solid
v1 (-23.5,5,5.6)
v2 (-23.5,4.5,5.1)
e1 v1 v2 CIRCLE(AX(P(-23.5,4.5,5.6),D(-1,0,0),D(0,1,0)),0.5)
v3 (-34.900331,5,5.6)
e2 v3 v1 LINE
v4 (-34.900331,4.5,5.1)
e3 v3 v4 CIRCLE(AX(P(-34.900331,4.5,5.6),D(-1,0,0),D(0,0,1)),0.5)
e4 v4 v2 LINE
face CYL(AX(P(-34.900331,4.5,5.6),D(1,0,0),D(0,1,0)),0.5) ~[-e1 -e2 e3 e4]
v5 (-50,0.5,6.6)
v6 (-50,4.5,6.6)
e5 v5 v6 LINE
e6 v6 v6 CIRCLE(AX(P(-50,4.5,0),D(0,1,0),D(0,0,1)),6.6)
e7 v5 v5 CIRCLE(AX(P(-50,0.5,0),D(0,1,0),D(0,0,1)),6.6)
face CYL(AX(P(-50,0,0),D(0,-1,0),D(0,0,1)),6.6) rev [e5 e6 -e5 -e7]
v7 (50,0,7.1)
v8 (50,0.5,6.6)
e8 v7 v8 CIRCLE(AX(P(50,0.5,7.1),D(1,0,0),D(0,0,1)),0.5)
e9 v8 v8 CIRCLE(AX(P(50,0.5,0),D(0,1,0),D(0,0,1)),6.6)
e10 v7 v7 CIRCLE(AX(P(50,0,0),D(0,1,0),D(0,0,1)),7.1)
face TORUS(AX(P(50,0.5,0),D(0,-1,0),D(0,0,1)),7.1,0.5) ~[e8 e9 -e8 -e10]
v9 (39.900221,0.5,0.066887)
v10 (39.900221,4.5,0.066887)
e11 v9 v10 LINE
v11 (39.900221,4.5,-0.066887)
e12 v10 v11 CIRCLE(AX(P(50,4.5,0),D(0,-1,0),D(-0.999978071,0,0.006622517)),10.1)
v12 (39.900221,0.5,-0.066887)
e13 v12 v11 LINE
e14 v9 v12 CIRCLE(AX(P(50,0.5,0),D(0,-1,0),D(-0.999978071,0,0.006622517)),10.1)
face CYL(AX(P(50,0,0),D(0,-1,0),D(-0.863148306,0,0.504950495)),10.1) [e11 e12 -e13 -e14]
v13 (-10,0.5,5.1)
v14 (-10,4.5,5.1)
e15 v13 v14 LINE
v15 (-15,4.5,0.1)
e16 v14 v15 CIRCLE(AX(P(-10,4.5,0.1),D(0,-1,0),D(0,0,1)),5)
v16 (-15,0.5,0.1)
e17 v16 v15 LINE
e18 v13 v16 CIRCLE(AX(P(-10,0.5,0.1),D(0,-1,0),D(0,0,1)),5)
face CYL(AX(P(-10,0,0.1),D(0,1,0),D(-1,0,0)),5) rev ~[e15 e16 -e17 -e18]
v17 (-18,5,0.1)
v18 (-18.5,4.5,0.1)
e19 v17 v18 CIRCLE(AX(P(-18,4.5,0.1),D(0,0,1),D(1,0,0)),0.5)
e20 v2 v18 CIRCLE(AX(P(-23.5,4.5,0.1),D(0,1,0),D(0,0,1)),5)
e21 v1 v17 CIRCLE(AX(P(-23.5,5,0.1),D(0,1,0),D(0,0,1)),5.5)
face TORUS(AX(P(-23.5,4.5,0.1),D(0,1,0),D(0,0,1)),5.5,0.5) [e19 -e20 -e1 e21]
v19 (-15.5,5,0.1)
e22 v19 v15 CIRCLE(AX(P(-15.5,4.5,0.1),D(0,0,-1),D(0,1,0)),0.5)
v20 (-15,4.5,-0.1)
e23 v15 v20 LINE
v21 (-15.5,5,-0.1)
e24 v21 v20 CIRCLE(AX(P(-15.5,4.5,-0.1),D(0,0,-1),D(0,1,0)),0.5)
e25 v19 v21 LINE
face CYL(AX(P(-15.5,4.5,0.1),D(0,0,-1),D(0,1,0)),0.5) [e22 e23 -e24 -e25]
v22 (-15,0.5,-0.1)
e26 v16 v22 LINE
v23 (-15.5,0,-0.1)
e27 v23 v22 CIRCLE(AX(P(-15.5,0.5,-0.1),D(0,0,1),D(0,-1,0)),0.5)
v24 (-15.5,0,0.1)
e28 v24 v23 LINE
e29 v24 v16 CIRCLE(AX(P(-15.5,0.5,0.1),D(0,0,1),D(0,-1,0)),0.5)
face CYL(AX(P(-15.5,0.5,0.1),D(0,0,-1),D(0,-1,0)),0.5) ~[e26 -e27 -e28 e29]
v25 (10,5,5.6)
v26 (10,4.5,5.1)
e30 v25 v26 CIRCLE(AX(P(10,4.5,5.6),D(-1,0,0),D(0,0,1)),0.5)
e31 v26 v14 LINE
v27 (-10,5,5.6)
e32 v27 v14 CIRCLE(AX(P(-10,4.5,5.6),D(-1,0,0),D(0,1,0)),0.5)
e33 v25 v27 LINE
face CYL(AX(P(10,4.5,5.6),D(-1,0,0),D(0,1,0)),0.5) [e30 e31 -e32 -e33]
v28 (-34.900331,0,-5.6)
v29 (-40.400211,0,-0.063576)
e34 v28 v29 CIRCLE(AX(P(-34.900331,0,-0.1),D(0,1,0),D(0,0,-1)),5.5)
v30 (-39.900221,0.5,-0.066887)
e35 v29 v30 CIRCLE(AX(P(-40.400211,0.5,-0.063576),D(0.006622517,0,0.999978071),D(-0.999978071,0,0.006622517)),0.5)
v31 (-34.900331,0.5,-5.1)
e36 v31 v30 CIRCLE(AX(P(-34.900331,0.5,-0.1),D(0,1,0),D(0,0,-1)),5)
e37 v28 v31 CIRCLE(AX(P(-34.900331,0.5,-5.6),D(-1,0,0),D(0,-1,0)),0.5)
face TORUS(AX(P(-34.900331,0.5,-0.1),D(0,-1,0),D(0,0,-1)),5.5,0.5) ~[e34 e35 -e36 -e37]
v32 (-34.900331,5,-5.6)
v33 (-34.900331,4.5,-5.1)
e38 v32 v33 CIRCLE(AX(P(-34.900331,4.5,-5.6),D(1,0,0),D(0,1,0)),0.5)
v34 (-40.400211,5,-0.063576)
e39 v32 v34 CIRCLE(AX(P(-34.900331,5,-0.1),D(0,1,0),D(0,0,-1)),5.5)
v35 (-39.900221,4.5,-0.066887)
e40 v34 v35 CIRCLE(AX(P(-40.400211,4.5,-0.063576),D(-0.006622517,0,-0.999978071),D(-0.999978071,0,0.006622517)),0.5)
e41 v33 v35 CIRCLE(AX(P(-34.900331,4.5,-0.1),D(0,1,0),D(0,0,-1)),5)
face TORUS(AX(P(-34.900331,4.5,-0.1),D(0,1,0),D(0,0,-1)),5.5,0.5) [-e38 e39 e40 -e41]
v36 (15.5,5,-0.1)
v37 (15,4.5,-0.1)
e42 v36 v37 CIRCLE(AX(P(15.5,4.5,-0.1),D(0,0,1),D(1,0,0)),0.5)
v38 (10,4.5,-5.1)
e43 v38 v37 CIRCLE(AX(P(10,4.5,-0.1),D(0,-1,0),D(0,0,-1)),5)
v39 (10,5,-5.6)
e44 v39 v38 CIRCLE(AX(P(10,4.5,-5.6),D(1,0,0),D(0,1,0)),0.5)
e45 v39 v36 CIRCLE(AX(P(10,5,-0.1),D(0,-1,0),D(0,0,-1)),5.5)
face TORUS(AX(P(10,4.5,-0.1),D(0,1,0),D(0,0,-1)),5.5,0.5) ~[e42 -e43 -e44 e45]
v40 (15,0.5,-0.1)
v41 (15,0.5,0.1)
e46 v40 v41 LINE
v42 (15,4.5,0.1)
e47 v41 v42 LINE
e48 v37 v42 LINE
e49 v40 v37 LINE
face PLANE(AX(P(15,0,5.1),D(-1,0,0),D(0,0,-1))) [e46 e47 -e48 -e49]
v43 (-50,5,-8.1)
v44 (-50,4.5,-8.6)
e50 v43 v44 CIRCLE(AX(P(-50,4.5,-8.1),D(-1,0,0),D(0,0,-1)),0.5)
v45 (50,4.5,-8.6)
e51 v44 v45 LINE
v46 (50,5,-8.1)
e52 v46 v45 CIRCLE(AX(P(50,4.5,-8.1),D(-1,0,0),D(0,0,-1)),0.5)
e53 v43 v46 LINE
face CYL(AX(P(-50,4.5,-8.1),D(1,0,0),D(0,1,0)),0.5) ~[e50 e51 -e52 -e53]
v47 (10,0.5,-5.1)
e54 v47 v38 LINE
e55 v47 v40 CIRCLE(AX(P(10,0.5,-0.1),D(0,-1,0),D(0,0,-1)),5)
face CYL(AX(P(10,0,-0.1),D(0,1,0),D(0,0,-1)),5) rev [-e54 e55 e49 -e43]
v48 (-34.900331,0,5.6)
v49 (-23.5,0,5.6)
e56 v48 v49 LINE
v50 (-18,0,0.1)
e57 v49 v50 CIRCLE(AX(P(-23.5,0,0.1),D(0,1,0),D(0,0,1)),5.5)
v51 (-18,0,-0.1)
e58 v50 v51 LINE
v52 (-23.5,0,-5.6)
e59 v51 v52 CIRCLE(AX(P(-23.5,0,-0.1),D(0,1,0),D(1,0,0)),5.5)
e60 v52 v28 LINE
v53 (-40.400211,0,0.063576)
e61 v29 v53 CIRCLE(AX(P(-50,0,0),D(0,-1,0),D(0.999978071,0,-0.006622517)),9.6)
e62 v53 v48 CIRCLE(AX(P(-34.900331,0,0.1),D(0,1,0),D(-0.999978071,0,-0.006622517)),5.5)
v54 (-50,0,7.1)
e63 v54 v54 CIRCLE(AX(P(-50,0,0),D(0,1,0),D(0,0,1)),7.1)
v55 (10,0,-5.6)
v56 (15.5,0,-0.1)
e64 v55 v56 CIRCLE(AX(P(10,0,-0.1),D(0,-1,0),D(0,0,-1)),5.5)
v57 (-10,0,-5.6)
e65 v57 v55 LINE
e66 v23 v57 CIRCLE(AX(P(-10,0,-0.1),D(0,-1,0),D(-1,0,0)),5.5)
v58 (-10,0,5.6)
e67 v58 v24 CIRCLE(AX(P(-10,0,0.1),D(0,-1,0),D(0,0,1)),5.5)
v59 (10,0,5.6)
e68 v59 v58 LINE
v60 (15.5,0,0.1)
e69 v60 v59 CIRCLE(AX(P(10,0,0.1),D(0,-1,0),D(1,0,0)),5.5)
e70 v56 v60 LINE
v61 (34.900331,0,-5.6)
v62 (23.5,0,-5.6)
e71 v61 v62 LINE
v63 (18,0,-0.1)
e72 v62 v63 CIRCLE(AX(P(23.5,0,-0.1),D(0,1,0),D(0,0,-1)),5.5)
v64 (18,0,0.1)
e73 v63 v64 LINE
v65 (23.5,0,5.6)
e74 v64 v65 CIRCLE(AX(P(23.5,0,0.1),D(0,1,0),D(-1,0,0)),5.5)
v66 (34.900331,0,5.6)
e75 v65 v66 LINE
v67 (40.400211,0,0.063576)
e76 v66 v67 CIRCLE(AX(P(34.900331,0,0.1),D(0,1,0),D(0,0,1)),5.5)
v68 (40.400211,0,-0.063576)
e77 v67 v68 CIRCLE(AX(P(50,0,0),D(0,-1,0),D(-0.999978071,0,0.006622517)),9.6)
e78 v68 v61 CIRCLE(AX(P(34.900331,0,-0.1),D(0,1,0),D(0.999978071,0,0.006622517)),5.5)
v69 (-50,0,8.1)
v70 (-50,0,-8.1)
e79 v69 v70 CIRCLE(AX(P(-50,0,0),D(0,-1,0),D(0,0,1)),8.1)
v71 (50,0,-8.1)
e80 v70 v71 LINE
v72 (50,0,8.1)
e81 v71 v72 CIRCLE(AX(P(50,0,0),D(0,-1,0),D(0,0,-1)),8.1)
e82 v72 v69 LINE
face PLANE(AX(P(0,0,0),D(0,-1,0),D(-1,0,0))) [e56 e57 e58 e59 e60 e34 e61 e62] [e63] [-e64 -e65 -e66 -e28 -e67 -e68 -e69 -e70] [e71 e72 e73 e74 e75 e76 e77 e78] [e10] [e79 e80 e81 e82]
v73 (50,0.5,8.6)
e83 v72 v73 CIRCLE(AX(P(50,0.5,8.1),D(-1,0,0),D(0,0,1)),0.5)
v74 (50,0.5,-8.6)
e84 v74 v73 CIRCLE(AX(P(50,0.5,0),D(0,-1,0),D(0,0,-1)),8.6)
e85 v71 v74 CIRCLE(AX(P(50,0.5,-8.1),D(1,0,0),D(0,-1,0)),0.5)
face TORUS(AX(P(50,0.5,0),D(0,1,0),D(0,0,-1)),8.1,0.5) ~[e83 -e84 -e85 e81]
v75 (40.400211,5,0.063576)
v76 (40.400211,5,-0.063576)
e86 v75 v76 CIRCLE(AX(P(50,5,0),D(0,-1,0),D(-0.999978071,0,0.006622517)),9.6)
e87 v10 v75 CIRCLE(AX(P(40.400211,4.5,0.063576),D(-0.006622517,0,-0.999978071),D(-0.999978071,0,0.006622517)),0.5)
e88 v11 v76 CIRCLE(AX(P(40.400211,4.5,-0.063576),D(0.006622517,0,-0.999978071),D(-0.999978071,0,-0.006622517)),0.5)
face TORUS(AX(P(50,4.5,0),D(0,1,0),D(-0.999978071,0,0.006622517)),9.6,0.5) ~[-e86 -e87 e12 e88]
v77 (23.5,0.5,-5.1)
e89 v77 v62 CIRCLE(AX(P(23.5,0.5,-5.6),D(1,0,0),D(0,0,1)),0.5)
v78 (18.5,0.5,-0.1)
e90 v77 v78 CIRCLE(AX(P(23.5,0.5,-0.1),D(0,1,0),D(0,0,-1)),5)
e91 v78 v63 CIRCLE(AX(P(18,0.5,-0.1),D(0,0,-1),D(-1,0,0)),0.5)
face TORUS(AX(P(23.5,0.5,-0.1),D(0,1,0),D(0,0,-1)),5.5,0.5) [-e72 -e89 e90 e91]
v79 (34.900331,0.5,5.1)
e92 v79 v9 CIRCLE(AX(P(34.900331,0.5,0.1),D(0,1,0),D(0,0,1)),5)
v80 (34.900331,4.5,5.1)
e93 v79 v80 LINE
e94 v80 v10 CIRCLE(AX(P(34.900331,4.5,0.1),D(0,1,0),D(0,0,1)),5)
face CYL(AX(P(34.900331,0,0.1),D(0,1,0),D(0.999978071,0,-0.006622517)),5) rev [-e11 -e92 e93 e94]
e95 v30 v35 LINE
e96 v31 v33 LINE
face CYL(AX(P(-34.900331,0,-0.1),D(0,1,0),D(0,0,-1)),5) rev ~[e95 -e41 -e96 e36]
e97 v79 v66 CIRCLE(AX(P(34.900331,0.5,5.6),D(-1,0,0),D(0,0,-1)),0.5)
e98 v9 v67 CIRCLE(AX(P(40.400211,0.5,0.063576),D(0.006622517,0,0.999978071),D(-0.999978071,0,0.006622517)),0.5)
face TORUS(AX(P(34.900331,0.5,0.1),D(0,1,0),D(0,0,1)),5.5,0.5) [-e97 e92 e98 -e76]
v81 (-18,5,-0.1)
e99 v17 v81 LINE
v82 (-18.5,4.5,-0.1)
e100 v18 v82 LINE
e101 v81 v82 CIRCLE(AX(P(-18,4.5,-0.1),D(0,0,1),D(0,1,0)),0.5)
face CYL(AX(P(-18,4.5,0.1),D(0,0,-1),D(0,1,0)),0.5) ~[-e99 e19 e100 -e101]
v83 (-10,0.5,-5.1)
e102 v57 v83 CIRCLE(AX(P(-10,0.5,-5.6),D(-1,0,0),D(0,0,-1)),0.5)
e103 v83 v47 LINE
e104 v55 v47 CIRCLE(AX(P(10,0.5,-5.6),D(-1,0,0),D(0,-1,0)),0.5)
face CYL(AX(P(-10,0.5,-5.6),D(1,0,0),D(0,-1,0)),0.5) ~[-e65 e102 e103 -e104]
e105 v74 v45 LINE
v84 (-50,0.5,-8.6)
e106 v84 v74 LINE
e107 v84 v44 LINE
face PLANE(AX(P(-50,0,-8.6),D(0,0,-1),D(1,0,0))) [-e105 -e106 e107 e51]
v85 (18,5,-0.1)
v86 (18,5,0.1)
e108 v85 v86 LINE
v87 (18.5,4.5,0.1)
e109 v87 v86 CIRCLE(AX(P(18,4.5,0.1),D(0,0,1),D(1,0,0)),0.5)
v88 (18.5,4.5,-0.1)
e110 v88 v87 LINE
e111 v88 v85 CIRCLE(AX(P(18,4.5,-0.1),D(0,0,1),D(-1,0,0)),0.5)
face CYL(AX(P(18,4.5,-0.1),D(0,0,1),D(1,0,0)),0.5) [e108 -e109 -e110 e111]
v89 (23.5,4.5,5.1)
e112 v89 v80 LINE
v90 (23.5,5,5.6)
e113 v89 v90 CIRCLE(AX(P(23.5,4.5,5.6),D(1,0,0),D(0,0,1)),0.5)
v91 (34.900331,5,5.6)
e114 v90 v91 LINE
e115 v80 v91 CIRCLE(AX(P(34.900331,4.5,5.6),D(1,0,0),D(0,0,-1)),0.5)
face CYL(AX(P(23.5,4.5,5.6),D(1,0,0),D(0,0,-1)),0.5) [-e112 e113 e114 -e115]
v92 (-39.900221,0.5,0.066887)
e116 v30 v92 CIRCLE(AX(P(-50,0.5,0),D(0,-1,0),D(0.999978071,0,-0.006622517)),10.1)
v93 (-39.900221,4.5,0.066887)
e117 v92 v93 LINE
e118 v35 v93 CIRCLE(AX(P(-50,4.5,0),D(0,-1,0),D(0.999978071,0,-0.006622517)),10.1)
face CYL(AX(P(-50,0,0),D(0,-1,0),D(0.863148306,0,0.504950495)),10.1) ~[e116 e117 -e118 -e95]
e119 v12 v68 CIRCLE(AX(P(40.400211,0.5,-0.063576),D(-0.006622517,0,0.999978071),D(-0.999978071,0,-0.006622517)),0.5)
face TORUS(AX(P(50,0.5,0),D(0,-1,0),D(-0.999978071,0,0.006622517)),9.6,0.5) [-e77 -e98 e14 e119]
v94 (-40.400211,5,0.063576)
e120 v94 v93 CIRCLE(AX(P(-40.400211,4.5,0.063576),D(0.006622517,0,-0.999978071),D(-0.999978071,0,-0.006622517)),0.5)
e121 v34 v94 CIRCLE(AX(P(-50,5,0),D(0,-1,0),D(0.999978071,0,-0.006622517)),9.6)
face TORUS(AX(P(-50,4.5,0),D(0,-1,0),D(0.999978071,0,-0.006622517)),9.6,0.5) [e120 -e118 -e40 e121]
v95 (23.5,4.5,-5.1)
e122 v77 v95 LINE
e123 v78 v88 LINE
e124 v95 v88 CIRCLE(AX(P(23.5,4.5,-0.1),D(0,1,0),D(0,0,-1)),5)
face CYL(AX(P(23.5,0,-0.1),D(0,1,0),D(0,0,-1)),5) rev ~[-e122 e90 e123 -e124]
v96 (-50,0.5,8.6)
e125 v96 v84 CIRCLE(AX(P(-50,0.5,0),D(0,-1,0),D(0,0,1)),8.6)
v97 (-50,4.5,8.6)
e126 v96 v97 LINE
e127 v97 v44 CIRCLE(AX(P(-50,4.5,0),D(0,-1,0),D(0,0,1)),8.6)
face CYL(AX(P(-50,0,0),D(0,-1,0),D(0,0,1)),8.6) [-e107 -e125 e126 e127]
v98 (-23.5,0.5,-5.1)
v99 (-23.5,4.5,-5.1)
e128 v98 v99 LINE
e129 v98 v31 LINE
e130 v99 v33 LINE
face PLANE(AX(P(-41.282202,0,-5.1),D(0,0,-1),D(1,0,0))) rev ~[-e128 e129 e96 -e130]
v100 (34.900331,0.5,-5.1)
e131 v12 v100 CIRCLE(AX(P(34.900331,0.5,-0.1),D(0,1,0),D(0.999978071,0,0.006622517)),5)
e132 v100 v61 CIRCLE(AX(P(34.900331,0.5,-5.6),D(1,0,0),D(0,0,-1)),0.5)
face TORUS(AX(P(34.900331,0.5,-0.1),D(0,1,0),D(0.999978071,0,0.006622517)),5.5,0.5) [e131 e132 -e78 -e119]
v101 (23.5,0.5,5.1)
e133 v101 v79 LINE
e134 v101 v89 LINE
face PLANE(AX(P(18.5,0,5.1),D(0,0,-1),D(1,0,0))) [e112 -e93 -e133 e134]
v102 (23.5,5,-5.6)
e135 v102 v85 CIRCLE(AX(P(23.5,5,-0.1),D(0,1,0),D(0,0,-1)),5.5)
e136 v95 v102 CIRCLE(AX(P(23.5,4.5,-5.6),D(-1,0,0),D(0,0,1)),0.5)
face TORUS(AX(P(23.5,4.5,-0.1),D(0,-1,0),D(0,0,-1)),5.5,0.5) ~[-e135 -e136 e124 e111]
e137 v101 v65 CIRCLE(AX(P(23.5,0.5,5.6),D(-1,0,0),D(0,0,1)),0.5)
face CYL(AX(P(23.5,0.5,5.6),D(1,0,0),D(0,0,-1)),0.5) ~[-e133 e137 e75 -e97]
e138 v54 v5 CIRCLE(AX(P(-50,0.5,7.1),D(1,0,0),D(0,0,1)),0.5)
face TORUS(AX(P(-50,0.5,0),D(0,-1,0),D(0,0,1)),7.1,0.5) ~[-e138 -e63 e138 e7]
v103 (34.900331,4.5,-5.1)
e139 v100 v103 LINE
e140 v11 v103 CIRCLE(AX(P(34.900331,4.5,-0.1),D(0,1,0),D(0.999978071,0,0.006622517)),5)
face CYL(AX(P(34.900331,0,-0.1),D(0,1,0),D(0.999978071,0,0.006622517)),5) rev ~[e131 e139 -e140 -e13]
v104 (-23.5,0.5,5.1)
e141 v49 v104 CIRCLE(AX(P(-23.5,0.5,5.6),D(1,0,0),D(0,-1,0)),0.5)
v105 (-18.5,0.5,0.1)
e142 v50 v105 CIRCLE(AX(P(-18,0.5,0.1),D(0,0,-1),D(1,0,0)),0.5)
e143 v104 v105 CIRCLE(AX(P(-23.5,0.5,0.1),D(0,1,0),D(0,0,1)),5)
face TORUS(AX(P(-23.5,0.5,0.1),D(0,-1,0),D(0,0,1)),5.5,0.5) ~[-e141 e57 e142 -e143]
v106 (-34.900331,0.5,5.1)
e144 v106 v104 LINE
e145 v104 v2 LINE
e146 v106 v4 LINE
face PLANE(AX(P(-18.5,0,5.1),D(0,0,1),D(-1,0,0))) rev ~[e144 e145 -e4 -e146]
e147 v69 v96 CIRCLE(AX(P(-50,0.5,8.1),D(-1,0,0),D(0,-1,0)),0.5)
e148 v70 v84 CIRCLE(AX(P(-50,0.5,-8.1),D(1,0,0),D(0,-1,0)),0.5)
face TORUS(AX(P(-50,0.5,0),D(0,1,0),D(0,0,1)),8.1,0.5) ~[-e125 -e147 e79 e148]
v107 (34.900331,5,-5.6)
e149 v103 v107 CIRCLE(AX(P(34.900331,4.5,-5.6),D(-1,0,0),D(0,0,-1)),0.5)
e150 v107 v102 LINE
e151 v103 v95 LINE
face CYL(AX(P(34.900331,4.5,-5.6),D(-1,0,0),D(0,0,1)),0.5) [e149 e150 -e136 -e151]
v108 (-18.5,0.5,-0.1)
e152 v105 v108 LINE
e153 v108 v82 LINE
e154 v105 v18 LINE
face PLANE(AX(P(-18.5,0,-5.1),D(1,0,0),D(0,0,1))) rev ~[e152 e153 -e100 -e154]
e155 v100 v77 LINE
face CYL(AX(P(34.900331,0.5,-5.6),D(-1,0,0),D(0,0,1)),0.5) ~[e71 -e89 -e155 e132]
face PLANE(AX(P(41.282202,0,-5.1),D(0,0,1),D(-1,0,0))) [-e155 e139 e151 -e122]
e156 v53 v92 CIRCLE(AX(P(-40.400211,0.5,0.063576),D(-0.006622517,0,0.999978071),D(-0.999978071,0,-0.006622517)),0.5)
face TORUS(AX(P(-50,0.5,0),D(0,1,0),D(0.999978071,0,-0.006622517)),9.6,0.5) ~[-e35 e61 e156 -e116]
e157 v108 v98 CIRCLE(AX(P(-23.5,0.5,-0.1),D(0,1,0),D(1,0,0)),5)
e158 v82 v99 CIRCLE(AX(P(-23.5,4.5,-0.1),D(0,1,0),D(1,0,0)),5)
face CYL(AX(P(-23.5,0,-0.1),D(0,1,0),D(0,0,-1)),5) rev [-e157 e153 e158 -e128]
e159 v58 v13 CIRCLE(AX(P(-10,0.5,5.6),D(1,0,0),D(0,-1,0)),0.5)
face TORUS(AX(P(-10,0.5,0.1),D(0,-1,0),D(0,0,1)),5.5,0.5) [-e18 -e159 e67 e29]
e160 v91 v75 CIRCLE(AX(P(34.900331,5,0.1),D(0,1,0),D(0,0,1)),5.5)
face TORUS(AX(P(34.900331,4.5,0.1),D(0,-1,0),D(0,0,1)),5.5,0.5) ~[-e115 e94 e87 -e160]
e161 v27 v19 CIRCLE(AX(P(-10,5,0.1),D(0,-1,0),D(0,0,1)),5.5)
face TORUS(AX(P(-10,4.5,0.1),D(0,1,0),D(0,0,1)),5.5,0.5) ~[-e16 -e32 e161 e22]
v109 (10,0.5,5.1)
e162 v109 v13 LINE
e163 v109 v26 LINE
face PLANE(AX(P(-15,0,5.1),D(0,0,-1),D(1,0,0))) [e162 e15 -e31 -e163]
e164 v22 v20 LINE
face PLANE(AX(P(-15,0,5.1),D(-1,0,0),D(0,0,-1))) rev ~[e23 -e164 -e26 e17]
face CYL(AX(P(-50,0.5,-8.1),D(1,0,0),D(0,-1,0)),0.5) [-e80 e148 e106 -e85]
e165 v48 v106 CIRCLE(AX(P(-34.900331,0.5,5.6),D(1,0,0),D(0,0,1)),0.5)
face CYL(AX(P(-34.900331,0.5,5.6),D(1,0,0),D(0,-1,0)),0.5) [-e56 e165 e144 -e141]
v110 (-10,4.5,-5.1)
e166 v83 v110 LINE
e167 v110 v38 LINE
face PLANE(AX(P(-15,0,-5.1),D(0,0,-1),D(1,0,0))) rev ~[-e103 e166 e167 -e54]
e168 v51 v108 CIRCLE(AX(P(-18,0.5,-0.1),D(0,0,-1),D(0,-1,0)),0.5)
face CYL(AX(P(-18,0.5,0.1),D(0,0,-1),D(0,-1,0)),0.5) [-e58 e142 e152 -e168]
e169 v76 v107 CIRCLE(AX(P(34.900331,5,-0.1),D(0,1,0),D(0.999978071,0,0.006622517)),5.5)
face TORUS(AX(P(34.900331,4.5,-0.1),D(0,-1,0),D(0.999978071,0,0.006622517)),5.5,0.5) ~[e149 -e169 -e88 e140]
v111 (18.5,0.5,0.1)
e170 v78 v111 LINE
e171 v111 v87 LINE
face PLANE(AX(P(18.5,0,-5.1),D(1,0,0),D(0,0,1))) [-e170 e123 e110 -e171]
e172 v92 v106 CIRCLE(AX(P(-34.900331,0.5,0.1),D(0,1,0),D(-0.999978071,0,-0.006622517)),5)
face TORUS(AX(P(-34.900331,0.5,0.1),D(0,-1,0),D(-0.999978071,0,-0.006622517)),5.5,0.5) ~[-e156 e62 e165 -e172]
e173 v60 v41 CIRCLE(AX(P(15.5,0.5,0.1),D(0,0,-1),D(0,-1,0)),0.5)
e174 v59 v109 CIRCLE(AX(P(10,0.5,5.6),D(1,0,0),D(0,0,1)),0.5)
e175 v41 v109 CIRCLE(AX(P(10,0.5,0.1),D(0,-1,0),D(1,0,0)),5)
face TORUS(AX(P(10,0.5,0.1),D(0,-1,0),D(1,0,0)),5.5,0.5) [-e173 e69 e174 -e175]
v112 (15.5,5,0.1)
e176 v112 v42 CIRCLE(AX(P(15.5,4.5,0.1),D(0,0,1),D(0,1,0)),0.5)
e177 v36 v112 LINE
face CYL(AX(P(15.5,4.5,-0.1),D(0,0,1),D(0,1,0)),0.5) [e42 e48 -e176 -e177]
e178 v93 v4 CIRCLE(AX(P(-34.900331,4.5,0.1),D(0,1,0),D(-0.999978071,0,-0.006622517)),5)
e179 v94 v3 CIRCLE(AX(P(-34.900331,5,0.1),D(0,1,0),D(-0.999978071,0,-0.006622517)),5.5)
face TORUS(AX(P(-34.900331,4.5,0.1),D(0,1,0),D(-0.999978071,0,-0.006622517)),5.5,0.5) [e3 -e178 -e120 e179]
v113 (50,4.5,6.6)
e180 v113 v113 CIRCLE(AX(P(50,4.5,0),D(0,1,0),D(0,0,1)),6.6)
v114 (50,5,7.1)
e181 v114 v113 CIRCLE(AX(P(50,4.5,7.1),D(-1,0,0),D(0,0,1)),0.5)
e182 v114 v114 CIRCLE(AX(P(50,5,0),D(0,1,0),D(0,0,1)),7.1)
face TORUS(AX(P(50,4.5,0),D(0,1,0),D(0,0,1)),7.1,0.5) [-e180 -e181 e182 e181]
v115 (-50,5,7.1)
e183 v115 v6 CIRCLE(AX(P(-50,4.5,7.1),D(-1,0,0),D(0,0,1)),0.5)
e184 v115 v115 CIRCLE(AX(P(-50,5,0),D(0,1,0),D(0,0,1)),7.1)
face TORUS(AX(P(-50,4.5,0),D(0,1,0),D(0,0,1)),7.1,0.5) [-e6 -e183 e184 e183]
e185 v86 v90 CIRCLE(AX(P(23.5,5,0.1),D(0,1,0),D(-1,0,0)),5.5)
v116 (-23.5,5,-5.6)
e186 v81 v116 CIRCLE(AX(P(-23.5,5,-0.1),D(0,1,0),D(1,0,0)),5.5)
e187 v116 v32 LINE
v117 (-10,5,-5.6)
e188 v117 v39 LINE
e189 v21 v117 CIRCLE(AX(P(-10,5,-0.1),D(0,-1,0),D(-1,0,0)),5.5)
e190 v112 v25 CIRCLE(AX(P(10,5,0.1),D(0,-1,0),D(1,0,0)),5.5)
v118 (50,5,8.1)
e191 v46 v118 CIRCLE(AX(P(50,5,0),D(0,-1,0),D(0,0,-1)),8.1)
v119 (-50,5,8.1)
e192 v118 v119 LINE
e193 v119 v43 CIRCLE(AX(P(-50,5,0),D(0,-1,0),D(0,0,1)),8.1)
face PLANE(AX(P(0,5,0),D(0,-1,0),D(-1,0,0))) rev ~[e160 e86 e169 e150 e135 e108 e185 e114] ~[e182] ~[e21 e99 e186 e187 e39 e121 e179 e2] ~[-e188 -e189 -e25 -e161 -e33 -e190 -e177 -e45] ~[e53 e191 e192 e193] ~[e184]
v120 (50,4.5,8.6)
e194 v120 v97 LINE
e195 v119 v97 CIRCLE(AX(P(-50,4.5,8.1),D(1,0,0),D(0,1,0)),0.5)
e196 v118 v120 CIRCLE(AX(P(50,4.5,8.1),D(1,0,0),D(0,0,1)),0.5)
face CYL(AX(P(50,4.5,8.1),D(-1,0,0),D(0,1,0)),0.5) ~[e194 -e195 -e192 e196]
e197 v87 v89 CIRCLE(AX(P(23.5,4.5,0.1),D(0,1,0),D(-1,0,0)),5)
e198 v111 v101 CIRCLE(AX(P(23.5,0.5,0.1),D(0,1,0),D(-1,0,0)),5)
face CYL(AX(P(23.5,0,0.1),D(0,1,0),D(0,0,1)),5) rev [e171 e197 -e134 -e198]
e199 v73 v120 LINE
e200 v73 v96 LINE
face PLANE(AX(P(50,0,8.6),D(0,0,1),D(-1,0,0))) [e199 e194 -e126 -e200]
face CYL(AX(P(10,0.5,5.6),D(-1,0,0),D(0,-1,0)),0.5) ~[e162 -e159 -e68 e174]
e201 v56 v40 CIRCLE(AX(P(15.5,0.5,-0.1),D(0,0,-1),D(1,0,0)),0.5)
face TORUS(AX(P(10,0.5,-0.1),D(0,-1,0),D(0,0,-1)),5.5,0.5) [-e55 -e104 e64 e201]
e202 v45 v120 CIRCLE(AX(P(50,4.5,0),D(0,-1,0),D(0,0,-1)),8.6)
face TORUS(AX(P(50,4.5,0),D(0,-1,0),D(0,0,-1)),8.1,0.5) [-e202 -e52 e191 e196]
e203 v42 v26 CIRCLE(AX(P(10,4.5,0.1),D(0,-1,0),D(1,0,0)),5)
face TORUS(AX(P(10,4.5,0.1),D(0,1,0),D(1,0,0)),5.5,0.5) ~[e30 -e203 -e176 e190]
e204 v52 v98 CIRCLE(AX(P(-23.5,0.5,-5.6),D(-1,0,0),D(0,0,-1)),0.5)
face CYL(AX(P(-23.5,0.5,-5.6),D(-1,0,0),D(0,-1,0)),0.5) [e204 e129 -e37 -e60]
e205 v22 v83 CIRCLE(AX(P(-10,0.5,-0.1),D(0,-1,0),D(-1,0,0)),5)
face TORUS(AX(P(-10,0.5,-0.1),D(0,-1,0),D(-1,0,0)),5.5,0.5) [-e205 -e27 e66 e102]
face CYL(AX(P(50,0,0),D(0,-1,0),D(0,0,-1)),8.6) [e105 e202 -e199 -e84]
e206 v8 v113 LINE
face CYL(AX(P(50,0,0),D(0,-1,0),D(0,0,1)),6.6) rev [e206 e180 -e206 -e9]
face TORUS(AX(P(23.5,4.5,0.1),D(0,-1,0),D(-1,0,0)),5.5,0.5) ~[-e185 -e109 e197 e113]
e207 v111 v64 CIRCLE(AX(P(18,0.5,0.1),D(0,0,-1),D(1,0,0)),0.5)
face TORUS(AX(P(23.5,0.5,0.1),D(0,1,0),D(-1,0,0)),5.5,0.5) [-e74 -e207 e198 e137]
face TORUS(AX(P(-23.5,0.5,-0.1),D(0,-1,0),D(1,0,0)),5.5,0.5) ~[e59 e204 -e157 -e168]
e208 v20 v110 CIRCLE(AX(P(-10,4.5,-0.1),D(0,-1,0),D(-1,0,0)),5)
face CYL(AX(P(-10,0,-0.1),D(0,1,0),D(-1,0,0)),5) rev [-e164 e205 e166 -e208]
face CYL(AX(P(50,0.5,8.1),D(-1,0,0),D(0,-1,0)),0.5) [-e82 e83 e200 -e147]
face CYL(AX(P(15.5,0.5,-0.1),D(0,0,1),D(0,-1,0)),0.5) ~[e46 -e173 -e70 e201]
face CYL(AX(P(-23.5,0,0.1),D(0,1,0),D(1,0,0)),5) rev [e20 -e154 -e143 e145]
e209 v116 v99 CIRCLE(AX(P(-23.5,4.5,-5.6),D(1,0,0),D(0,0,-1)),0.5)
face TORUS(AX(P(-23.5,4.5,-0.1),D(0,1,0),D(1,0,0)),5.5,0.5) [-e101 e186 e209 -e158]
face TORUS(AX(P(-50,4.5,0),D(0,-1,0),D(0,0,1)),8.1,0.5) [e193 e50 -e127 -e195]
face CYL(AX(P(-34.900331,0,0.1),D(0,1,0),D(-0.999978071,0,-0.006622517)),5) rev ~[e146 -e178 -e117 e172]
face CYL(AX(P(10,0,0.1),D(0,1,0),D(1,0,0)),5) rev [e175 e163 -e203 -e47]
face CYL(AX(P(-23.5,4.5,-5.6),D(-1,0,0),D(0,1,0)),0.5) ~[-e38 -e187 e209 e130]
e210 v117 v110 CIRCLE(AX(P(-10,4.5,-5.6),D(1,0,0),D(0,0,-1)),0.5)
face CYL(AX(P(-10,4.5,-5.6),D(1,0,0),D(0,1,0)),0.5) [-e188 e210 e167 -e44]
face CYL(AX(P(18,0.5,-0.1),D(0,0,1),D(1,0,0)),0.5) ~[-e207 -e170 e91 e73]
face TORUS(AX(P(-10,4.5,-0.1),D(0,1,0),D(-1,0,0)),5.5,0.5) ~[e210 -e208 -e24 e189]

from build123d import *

# Parameters (mm, degrees)
ESQUISSE1_R        = 6.6
ESQUISSE1_W        = 30
ESQUISSE1_H        = 10.2
BOSS_EXTRU_1_DEPTH = 5
CONG_3_R           = 5
CONG_2_R           = 0.5


with BuildPart() as part:
    # Esquisse1 → Boss.-Extru.1 (new body)
    with BuildSketch(Plane(origin=(0, 0, 0), x_dir=(1, 0, 0), z_dir=(0, 1, 0))):
        with BuildLine():
            Line((-50, 8.6), (50, 8.6))
            ThreePointArc((50, 8.6), (58.6, 0), (50, -8.6))
            Line((50, -8.6), (-50, -8.6))
            ThreePointArc((-50, -8.6), (-58.6, 0), (-50, 8.6))
        make_face()
        with Locations(Location((-50, 0, 0), (0, 0, 270))):
            Circle(ESQUISSE1_R, mode=Mode.SUBTRACT)
        with Locations(Location((50, 0, 0), (0, 0, 270))):
            Circle(ESQUISSE1_R, mode=Mode.SUBTRACT)
        with BuildLine():
            Line((-41.282202113, 5.1), (-18.5, 5.1))
            Line((-18.5, 5.1), (-18.5, -5.1))
            Line((-18.5, -5.1), (-41.282202113, -5.1))
            ThreePointArc((-41.282202113, -5.1), (-39.9, 0), (-41.282202113, 5.1))
        make_face(mode=Mode.SUBTRACT)
        with BuildLine():
            Line((41.282202113, 5.1), (18.5, 5.1))
            Line((18.5, 5.1), (18.5, -5.1))
            Line((18.5, -5.1), (41.282202113, -5.1))
            ThreePointArc((41.282202113, -5.1), (39.9, 0), (41.282202113, 5.1))
        make_face(mode=Mode.SUBTRACT)
        Rectangle(ESQUISSE1_W, ESQUISSE1_H, mode=Mode.SUBTRACT)
    extrude(amount=BOSS_EXTRU_1_DEPTH)

    # Congé3
    cong_3_edges = [part.edges().sort_by_distance(p)[0] for p in [
        (-41.282202113, 2.5, -5.1),
        (-41.282202113, 2.5, 5.1),
        (-18.5, 2.5, 5.1),
        (-18.5, 2.5, -5.1),
        (15, 2.5, -5.1),
        (-15, 2.5, -5.1),
        (-15, 2.5, 5.1),
        (15, 2.5, 5.1),
        (18.5, 2.5, -5.1),
        (18.5, 2.5, 5.1),
        (41.282202113, 2.5, 5.1),
        (41.282202113, 2.5, -5.1),
    ]]
    fillet(cong_3_edges, radius=CONG_3_R)

    # Congé2
    cong_2_edges = [part.edges().sort_by_distance(p)[0] for p in [
        (58.6, 5, 0),
        (-38.447552783, 0, 3.623807393),
        (-38.447552783, 5, 3.623807393),
        (0, 5, -8.6),
        (50, 0, -6.6),
        (50, 5, -6.6),
        (-50, 0, -6.6),
        (-50, 5, -6.6),
        (-58.6, 5, 0),
        (0, 0, -8.6),
        (58.6, 0, 0),
        (0, 0, 8.6),
        (-58.6, 0, 0),
        (-29.200165565, 0, 5.1),
        (-29.200165565, 5, 5.1),
        (-18.5, 0, 0),
        (-18.5, 5, 0),
        (-15, 0, 0),
        (0, 5, 8.6),
        (-15, 5, 0),
        (0, 0, 5.1),
        (0, 5, 5.1),
        (15, 0, 0),
        (15, 5, 0),
        (0, 0, -5.1),
        (0, 5, -5.1),
        (-29.200165565, 0, -5.1),
        (-29.200165565, 5, -5.1),
        (39.9, 0, 0),
        (39.9, 5, 0),
        (29.200165565, 0, -5.1),
        (29.200165565, 5, -5.1),
        (29.200165565, 0, 5.1),
        (29.200165565, 5, 5.1),
        (18.5, 0, 0),
        (18.5, 5, 0),
        (-39.9, 0, 0),
        (-39.9, 5, 0),
        (-19.964466094, 0, 3.635533906),
        (-19.964466094, 5, 3.635533906),
        (-13.535533906, 0, 3.635533906),
        (-13.535533906, 5, 3.635533906),
        (13.535533906, 0, -3.635533906),
        (13.535533906, 5, -3.635533906),
        (13.535533906, 0, 3.635533906),
        (13.535533906, 5, 3.635533906),
        (-13.535533906, 0, -3.635533906),
        (-13.535533906, 5, -3.635533906),
        (-19.964466094, 0, -3.635533906),
        (-19.964466094, 5, -3.635533906),
        (38.447552783, 0, -3.623807393),
        (38.447552783, 5, -3.623807393),
        (38.447552783, 0, 3.623807393),
        (38.447552783, 5, 3.623807393),
        (19.964466094, 0, 3.635533906),
        (19.964466094, 5, 3.635533906),
        (19.964466094, 0, -3.635533906),
        (19.964466094, 5, -3.635533906),
        (-38.447552783, 0, -3.623807393),
        (-38.447552783, 5, -3.623807393),
    ]]
    fillet(cong_2_edges, radius=CONG_2_R)


solid = part.part
